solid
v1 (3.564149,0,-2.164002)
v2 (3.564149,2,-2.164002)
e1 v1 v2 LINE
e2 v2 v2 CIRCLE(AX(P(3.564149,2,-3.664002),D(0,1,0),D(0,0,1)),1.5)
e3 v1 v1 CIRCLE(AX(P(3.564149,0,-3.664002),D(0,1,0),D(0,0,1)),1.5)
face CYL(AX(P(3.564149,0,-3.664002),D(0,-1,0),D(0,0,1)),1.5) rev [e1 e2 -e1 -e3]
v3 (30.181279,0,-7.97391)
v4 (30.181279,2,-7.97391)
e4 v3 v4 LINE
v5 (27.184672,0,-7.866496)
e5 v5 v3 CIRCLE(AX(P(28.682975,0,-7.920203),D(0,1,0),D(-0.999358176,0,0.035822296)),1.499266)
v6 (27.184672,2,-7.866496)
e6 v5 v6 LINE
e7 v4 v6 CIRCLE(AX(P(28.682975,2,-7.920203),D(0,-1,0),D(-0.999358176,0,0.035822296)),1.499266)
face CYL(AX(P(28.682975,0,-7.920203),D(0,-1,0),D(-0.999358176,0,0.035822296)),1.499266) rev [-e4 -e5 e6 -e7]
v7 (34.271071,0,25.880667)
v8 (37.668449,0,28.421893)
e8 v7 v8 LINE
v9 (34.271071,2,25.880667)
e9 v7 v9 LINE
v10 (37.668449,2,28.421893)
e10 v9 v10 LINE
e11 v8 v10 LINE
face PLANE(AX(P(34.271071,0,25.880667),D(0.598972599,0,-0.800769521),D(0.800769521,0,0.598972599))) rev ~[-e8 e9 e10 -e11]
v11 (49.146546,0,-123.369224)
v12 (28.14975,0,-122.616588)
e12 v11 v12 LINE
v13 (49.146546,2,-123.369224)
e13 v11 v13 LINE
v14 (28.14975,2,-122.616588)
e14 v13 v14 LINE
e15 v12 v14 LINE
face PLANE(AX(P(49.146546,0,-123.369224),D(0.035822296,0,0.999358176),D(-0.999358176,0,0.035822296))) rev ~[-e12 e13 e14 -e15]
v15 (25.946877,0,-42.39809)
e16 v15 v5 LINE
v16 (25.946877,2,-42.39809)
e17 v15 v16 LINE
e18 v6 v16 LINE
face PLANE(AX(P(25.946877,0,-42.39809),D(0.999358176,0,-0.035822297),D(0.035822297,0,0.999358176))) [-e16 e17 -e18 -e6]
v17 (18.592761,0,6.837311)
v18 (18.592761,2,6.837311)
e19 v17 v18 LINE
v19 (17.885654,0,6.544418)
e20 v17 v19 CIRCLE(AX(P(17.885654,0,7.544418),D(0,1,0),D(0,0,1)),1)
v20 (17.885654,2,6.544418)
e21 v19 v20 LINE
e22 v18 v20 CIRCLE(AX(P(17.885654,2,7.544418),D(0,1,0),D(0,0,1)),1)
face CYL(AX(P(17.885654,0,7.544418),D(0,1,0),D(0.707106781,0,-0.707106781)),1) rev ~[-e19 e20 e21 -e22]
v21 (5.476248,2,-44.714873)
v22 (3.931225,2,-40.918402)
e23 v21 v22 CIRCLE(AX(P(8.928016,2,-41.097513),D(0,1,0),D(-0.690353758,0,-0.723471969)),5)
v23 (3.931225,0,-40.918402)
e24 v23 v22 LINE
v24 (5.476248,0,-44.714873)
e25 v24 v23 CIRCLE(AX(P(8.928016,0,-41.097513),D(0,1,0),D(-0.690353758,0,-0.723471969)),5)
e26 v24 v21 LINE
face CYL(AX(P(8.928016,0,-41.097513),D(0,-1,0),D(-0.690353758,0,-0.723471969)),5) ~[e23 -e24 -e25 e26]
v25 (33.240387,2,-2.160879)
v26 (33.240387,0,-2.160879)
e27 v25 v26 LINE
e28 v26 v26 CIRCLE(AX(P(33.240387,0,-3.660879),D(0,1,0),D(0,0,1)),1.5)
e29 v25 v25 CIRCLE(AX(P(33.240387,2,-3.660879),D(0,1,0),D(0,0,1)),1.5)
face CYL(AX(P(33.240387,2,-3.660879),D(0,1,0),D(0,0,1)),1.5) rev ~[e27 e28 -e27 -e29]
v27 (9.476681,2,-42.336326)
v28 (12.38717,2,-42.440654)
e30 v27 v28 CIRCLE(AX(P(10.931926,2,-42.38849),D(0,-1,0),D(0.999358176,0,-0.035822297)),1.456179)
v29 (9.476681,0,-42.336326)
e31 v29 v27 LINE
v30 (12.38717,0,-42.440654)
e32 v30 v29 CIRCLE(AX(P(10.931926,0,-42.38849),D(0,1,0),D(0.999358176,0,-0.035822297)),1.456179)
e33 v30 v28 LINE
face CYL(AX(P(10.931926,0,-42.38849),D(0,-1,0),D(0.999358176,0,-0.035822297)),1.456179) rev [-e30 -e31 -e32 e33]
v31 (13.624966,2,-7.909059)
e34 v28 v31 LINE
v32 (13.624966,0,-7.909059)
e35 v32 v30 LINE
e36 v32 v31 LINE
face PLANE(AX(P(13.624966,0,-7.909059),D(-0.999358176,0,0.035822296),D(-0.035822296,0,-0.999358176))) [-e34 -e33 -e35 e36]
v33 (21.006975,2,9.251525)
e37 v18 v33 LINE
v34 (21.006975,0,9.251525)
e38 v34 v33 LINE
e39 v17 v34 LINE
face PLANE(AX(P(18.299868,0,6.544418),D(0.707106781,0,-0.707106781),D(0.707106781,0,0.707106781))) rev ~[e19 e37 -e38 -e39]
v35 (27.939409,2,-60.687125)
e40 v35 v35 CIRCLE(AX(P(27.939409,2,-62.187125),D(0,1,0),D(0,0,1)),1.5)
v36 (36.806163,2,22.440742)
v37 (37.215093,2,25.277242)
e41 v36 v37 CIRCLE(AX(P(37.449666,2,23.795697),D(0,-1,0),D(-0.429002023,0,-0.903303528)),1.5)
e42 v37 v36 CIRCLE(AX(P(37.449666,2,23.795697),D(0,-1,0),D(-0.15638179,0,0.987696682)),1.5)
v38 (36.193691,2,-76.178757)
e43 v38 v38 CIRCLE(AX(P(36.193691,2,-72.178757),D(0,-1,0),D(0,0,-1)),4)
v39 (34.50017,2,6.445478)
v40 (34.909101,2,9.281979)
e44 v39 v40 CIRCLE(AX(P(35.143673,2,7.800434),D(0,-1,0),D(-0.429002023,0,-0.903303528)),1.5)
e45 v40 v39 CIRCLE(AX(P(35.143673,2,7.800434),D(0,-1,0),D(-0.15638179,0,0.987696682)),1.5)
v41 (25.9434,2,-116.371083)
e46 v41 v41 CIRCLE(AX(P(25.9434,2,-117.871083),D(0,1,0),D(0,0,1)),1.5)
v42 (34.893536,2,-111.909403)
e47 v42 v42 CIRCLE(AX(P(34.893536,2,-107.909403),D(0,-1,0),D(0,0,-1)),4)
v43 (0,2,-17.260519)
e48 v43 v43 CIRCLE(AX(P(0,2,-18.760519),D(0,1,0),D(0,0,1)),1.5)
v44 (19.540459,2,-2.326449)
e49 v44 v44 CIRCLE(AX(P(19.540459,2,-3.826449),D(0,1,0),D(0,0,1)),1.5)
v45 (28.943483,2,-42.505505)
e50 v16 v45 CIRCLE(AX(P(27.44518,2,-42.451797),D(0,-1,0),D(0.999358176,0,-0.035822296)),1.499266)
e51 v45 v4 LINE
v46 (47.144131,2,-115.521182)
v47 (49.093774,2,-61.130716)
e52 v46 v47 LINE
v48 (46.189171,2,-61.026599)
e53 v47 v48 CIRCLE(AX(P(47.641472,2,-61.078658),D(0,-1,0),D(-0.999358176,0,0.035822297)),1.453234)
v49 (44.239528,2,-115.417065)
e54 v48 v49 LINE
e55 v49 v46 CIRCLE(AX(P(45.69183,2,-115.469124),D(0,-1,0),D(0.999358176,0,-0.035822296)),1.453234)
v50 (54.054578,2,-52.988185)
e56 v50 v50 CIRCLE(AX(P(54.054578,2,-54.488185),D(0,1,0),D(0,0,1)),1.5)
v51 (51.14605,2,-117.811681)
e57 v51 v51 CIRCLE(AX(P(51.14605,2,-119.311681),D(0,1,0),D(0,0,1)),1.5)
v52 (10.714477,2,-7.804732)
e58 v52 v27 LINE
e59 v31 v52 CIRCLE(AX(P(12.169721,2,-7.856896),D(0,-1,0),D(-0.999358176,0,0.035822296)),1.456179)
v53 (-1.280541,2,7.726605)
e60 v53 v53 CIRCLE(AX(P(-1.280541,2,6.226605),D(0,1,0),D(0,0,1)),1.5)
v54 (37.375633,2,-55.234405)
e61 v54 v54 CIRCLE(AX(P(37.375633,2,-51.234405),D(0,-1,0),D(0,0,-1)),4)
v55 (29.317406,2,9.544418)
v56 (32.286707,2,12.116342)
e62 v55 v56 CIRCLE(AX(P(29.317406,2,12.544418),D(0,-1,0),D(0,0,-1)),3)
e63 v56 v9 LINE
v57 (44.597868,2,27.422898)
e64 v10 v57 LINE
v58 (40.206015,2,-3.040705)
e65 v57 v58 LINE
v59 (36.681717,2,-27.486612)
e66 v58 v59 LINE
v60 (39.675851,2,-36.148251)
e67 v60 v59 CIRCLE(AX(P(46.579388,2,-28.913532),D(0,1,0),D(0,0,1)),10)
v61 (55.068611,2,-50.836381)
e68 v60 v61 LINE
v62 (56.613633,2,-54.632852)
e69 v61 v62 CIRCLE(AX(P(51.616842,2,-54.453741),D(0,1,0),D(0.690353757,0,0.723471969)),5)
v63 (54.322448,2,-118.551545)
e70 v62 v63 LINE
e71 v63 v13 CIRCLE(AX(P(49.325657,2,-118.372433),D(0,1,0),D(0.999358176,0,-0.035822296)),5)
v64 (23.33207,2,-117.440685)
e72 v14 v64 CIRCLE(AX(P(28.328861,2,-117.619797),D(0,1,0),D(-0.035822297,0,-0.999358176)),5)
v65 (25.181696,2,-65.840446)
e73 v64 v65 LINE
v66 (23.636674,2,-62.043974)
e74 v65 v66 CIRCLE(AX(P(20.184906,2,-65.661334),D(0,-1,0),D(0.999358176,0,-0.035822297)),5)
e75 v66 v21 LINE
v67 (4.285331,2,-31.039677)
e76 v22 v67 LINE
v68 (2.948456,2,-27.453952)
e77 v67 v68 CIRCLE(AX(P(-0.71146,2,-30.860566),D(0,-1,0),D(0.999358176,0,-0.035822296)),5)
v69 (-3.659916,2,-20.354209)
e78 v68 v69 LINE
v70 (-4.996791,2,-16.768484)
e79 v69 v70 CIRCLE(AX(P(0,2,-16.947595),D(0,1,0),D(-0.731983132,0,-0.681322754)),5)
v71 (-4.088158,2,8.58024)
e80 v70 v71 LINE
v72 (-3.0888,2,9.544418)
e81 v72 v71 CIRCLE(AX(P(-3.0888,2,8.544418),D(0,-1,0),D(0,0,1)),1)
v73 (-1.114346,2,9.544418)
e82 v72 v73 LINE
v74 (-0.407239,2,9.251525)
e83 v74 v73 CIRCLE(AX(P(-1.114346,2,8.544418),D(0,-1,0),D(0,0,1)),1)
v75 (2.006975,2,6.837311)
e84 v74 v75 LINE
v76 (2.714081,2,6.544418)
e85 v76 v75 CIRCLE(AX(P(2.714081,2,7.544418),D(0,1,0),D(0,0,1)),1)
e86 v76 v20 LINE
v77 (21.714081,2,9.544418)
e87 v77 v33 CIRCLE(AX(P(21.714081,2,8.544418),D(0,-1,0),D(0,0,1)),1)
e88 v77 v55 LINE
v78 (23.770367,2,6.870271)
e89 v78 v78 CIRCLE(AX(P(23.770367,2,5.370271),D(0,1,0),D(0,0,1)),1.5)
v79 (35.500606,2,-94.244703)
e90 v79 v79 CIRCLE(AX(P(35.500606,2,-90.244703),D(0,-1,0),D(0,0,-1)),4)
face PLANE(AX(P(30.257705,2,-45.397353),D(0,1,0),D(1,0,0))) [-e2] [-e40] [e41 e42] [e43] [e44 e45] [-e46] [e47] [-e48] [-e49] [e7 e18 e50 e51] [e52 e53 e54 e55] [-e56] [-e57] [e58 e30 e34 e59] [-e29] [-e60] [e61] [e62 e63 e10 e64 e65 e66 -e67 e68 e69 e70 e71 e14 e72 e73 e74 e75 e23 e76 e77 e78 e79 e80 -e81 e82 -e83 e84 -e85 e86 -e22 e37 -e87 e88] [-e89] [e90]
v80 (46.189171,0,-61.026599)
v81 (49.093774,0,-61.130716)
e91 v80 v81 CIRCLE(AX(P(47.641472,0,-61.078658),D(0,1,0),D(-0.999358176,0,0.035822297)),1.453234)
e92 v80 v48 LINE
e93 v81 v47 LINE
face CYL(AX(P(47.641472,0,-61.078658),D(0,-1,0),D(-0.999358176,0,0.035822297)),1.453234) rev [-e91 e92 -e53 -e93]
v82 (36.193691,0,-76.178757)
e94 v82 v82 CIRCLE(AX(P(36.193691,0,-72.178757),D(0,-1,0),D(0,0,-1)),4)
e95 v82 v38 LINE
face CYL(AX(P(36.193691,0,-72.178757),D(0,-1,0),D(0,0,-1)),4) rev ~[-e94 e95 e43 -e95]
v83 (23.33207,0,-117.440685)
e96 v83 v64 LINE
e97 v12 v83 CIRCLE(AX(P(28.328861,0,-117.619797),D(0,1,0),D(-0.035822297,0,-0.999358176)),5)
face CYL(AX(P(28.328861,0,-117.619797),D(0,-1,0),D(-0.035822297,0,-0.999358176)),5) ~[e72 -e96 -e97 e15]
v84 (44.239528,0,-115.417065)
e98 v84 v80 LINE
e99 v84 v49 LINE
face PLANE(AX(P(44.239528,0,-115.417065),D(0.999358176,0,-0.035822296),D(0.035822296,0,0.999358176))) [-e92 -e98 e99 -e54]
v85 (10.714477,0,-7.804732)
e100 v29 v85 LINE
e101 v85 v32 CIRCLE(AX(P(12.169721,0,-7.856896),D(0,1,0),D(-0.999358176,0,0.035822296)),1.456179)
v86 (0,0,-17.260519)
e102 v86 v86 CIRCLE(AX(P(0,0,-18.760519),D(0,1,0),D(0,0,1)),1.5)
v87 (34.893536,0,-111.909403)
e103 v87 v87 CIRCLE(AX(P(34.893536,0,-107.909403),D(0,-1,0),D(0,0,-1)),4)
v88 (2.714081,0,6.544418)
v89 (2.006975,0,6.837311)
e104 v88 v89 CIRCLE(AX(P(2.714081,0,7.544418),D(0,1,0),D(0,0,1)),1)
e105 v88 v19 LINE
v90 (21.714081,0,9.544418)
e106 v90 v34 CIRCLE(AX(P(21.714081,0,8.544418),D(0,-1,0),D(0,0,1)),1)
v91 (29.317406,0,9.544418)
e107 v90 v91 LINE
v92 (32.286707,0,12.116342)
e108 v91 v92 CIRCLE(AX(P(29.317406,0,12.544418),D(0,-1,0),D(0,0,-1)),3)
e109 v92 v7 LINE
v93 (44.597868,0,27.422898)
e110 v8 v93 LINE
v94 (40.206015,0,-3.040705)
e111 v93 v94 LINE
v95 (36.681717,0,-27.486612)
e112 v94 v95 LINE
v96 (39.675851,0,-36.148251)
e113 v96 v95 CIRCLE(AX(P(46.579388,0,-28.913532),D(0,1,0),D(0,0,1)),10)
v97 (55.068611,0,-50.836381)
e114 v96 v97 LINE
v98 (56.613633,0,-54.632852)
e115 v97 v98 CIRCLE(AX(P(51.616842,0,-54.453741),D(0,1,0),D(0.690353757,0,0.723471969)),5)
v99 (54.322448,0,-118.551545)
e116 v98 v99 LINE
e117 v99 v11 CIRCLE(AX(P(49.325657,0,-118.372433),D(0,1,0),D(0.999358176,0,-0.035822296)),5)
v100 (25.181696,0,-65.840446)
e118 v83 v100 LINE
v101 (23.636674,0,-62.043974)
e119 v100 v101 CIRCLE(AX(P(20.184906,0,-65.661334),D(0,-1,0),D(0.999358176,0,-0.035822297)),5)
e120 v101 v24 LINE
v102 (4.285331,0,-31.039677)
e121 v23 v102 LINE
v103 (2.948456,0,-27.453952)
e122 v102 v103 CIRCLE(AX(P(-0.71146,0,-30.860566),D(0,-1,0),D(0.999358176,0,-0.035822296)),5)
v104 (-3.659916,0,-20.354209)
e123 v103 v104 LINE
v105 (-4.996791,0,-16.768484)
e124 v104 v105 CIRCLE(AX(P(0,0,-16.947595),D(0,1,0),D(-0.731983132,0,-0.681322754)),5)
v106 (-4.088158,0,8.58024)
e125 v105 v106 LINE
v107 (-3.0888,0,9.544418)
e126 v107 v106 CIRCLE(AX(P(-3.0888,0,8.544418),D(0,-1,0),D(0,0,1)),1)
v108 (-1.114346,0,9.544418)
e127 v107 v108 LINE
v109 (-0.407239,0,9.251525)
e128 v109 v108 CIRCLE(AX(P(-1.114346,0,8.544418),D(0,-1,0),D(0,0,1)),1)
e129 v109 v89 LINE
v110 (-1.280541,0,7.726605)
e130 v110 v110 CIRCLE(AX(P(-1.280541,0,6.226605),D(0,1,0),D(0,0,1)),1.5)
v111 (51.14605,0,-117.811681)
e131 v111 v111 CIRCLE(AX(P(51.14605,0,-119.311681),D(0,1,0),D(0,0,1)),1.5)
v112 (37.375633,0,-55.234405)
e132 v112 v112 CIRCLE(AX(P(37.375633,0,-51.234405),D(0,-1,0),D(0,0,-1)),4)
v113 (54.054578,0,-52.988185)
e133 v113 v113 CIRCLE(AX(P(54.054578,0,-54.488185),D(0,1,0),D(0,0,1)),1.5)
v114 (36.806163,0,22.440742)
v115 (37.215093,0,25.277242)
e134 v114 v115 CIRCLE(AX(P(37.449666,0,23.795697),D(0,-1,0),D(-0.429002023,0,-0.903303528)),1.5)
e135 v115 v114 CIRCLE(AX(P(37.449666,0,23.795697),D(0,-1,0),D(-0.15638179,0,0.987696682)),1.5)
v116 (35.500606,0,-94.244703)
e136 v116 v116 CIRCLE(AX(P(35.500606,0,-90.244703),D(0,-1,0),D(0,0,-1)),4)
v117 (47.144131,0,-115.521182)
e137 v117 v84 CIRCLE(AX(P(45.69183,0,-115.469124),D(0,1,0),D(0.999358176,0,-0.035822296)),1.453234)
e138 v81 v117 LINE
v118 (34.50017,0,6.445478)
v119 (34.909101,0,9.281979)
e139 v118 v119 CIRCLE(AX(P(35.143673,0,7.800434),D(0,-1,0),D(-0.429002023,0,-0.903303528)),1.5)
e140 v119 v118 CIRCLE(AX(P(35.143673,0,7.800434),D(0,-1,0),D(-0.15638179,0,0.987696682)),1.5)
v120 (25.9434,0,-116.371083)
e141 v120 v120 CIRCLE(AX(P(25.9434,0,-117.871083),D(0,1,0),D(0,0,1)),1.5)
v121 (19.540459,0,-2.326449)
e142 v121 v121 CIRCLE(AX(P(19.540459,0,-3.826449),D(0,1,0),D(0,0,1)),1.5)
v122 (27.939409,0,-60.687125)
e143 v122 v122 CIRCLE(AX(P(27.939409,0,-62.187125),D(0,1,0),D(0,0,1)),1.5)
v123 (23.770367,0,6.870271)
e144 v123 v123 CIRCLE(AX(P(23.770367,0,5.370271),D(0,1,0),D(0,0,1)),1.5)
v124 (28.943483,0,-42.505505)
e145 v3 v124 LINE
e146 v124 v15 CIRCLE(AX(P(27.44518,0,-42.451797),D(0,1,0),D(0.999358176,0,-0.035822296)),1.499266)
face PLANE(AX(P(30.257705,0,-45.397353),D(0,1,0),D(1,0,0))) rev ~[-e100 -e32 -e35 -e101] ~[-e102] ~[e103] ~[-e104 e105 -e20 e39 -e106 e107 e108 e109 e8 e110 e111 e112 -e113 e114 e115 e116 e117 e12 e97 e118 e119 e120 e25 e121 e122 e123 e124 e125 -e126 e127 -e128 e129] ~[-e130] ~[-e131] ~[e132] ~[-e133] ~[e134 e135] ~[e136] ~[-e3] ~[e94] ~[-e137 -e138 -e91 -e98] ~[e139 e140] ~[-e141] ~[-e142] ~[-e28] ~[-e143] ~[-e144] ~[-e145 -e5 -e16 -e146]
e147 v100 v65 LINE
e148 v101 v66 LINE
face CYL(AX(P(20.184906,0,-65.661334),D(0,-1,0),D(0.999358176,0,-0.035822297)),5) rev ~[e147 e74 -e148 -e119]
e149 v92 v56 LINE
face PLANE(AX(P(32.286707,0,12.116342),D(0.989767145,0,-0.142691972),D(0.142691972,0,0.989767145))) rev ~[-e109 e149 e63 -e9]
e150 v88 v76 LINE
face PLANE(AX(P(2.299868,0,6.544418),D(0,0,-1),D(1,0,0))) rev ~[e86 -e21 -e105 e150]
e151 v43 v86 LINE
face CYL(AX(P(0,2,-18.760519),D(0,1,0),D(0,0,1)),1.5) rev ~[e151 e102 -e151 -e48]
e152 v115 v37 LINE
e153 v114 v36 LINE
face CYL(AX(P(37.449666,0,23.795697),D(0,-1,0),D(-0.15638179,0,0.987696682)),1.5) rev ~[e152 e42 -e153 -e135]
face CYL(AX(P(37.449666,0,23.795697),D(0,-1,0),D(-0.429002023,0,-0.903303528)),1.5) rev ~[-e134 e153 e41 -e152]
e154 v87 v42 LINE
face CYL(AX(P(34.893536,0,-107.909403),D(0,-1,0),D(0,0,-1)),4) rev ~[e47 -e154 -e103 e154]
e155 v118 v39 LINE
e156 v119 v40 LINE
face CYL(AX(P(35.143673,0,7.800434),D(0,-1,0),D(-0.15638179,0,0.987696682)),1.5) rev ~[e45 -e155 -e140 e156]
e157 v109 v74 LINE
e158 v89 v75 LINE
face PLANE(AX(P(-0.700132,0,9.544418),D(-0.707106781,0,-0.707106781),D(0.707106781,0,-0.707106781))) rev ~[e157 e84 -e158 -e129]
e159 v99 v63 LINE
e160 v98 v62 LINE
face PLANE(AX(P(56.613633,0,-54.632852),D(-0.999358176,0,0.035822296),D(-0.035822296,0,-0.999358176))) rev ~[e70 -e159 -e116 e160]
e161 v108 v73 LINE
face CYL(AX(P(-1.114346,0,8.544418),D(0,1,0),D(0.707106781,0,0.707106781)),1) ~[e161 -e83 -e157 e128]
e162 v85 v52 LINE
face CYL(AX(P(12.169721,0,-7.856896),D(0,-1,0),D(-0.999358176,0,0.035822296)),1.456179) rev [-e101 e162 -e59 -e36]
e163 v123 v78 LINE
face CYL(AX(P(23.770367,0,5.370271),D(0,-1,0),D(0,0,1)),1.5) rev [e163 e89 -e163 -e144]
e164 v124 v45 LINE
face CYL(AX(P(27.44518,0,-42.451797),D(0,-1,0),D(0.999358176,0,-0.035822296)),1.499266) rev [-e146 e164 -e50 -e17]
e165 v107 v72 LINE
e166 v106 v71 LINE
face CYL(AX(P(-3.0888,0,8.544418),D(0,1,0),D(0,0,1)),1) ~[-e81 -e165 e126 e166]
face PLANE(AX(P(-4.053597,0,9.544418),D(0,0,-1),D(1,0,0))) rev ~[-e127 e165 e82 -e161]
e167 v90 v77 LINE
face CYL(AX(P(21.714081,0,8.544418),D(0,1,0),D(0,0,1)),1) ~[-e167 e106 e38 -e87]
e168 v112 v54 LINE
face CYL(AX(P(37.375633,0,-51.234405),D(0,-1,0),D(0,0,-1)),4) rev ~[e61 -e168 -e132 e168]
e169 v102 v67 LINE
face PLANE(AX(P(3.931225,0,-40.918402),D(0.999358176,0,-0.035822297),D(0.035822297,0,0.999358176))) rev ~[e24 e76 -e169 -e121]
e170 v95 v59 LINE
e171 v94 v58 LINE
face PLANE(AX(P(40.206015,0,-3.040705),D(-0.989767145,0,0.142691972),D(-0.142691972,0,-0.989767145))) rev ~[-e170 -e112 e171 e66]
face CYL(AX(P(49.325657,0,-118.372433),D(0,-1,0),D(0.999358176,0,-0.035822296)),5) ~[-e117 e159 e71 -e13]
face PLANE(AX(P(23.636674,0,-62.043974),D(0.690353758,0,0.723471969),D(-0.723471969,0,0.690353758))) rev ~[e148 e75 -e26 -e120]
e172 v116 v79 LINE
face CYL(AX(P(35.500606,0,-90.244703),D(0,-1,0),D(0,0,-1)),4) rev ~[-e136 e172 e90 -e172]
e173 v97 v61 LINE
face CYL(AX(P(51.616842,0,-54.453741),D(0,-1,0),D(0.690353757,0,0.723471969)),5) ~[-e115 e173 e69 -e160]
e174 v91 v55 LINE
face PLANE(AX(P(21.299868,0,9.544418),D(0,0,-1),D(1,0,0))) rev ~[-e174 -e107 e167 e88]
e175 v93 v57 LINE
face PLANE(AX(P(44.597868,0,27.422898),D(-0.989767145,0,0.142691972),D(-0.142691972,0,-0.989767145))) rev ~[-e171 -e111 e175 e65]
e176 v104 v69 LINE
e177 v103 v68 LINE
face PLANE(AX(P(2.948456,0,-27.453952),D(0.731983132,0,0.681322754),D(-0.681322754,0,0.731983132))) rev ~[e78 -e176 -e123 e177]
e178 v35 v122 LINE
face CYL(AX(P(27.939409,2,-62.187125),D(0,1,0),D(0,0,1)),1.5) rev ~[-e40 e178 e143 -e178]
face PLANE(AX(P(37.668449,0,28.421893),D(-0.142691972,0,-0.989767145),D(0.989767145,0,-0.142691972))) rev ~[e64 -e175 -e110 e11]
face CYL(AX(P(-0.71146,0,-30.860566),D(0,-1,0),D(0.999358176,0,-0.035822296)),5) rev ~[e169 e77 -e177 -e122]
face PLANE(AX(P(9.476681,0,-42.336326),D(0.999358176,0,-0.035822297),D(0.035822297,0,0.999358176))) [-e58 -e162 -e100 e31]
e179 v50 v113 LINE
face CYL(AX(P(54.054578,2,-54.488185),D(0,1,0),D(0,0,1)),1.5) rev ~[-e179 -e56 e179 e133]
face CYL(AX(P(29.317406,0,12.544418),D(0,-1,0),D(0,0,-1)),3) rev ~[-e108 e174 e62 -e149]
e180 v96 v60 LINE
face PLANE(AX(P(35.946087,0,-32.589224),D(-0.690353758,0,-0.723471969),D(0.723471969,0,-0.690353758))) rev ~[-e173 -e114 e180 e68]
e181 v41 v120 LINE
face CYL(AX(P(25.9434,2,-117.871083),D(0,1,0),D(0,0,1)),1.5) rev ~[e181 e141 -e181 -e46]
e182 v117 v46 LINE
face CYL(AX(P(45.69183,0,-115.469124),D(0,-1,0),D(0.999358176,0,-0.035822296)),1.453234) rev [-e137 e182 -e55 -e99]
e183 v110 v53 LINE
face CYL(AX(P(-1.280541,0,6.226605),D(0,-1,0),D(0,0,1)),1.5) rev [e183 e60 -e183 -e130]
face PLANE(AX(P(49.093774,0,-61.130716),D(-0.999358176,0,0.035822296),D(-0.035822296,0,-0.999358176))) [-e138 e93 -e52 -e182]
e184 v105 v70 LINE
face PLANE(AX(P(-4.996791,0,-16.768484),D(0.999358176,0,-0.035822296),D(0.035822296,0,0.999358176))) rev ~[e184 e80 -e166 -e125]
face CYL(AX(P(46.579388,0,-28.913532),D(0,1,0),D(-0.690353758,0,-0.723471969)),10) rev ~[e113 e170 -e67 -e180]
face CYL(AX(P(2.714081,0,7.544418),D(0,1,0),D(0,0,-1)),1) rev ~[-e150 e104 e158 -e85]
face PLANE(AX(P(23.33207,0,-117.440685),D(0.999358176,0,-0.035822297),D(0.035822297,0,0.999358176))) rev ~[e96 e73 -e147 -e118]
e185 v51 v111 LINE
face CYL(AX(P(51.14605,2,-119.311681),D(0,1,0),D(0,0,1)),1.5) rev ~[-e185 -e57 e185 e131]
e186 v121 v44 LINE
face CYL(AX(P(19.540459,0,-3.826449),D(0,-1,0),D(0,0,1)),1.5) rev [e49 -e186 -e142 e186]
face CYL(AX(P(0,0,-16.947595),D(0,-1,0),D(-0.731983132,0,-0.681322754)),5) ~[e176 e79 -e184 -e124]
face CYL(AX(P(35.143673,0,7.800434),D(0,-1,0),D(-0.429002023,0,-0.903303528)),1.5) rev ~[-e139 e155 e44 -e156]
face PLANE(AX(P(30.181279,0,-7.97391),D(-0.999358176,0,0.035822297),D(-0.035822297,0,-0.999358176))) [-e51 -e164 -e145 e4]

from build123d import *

# Parameters (mm, degrees)
SKETCH1_R           = 1.5
BOSS_EXTRUDE1_DEPTH = 2
SKETCH2_R           = 4
CUT_EXTRUDE1_DEPTH  = 136.757961465
SKETCH3_R           = 1.5
CUT_EXTRUDE2_DEPTH  = 10
FILLET1_R           = 10
CUT_EXTRUDE3_DEPTH  = 23
FILLET2_R           = 1


with BuildPart() as part:
    # Sketch1 → Boss-Extrude1 (new body)
    with BuildSketch(Plane(origin=(0, 0, 0), x_dir=(1, 0, 0), z_dir=(0, 1, 0))):
        with BuildLine():
            Line((35.946087305, 32.589224444), (55.068611132, 50.836380863))
            ThreePointArc((55.068611132, 50.836380863), (56.248023483, 52.569022886), (56.613633222, 54.632852189))
            Line((56.613633222, 54.632852189), (54.322448331, 118.551544644))
            ThreePointArc((54.322448331, 118.551544644), (52.732271224, 122.032348819), (49.146545971, 123.369224039))
            Line((49.146545971, 123.369224039), (28.149749669, 122.616587516))
            ThreePointArc((28.149749669, 122.616587516), (24.668945494, 121.026410408), (23.332070273, 117.440685156))
            Line((23.332070273, 117.440685156), (25.181696492, 65.840445524))
            ThreePointArc((25.181696492, 65.840445524), (24.816086753, 63.776616221), (23.636674402, 62.043974198))
            Line((23.636674402, 62.043974198), (5.476247543, 44.714873053))
            ThreePointArc((5.476247543, 44.714873053), (4.296835192, 42.98223103), (3.931225452, 40.918401728))
            Line((3.931225452, 40.918401728), (4.285331317, 31.039677436))
            ThreePointArc((4.285331317, 31.039677436), (3.973516256, 29.113854302), (2.948456097, 27.453952183))
            Line((2.948456097, 27.453952183), (-3.659915658, 20.354208893))
            ThreePointArc((-3.659915658, 20.354208893), (-4.684975817, 18.694306775), (-4.996790878, 16.768483641))
            Line((-4.996790878, 16.768483641), (-4.053596951, -9.544417952))
            Line((-4.053596951, -9.544417952), (-0.700132194, -9.544417952))
            Line((-0.700132194, -9.544417952), (2.299867806, -6.544417952))
            Line((2.299867806, -6.544417952), (18.299867806, -6.544417952))
            Line((18.299867806, -6.544417952), (21.299867806, -9.544417952))
            Line((21.299867806, -9.544417952), (26.299867806, -9.544417952))
            Line((26.299867806, -9.544417952), (28.299867806, -9.544417952))
            Line((28.299867806, -9.544417952), (29.317405641, -9.544417952))
            ThreePointArc((29.317405641, -9.544417952), (31.281555871, -10.276794995), (32.286707076, -12.116342036))
            Line((32.286707076, -12.116342036), (34.27107148, -25.880667111))
            Line((34.27107148, -25.880667111), (37.668448831, -28.421892629))
            Line((37.668448831, -28.421892629), (44.597867771, -27.422897603))
            Line((44.597867771, -27.422897603), (40.206014976, 3.040705467))
            Line((40.206014976, 3.040705467), (35.946087305, 32.589224444))
        make_face()
        with Locations(Location((23.770367042, -5.370271096, 0), (0, 0, 270))):
            Circle(SKETCH1_R, mode=Mode.SUBTRACT)
        with Locations(Location((19.540458754, 3.826449386, 0), (0, 0, 270))):
            Circle(SKETCH1_R, mode=Mode.SUBTRACT)
        with Locations(Location((-1.280541484, -6.226605145, 0), (0, 0, 270))):
            Circle(SKETCH1_R, mode=Mode.SUBTRACT)
        with Locations(Location((3.564149135, 3.664002019, 0), (0, 0, 270))):
            Circle(SKETCH1_R, mode=Mode.SUBTRACT)
    extrude(amount=BOSS_EXTRUDE1_DEPTH)

    # Sketch2 → Cut-Extrude1 (cut, through all)
    with BuildSketch(Plane.XZ):
        with Locations(Location((34.893536441, -107.909402778, 0), (0, 0, 270))):
            Circle(SKETCH2_R)
        with Locations(Location((35.500605714, -90.244703074, 0), (0, 0, 270))):
            Circle(SKETCH2_R)
        with Locations(Location((37.375632996, -51.234404776, 0), (0, 0, 270))):
            Circle(SKETCH2_R)
        with Locations(Location((36.193690526, -72.178757044, 0), (0, 0, 270))):
            Circle(SKETCH2_R)
        with BuildLine():
            Line((9.476681481, -42.336326168), (10.714476932, -7.804732036))
            ThreePointArc((10.714476932, -7.804732036), (12.221884959, -6.401651358), (13.624965636, -7.909059385))
            Line((13.624965636, -7.909059385), (12.387170186, -42.440653517))
            ThreePointArc((12.387170186, -42.440653517), (10.879762159, -43.843734194), (9.476681481, -42.336326168))
        make_face()
        with BuildLine():
            Line((25.946876638, -42.39809035), (27.184672089, -7.866496218))
            ThreePointArc((27.184672089, -7.866496218), (28.736682558, -6.421900022), (30.181278754, -7.973910491))
            Line((30.181278754, -7.973910491), (28.943483303, -42.505504623))
            ThreePointArc((28.943483303, -42.505504623), (27.391472834, -43.950100819), (25.946876638, -42.39809035))
        make_face()
        with BuildLine():
            Line((44.239527936, -115.417065328), (46.189170661, -61.026599384))
            ThreePointArc((46.189170661, -61.026599384), (47.693530634, -59.626355806), (49.093774212, -61.130715778))
            Line((49.093774212, -61.130715778), (47.144131486, -115.521181722))
            ThreePointArc((47.144131486, -115.521181722), (45.639771514, -116.9214253), (44.239527936, -115.417065328))
        make_face()
    extrude(amount=-CUT_EXTRUDE1_DEPTH, mode=Mode.SUBTRACT)

    # Sketch3 → Cut-Extrude2 (cut)
    with BuildSketch(Plane(origin=(0, 2, 0), x_dir=(1, 0, 0), z_dir=(0, 1, 0))):
        with Locations(Location((0, 18.76051869, 0), (0, 0, 270))):
            Circle(SKETCH3_R)
        with Locations(Location((54.054577559, 54.488184987, 0), (0, 0, 270))):
            Circle(SKETCH3_R)
        with Locations(Location((25.943400363, 117.871083174, 0), (0, 0, 270))):
            Circle(SKETCH3_R)
        with Locations(Location((51.146049593, 119.311681239, 0), (0, 0, 270))):
            Circle(SKETCH3_R)
        with Locations(Location((27.939408723, 62.187124606, 0), (0, 0, 270))):
            Circle(SKETCH3_R)
        with Locations(Location((33.240387063, 3.660878573, 0), (0, 0, 270))):
            Circle(SKETCH3_R)
    extrude(amount=-CUT_EXTRUDE2_DEPTH, mode=Mode.SUBTRACT)

    # Fillet1
    fillet1_edges = [part.edges().sort_by_distance(p)[0] for p in [
        (35.946087305, 1, -32.589224444),
    ]]
    fillet(fillet1_edges, radius=FILLET1_R)

    # Sketch4 → Cut-Extrude3 (cut)
    with BuildSketch(Plane.XZ):
        with BuildLine():
            ThreePointArc((36.806162994, 22.440741914), (38.934316746, 23.581659248), (37.215093343, 25.27724223))
            ThreePointArc((37.215093343, 25.27724223), (35.965015311, 24.009735165), (36.806162994, 22.440741914))
        make_face()
        with BuildLine():
            ThreePointArc((34.909100758, 9.281978715), (33.659022726, 8.014471651), (34.500170409, 6.4454784))
            ThreePointArc((34.500170409, 6.4454784), (36.628324161, 7.586395734), (34.909100758, 9.281978715))
        make_face()
    extrude(amount=-CUT_EXTRUDE3_DEPTH, mode=Mode.SUBTRACT)

    # Fillet2
    fillet2_edges = [part.edges().sort_by_distance(p)[0] for p in [
        (21.299867806, 1, 9.544417952),
        (18.299867806, 1, 6.544417952),
        (2.299867806, 1, 6.544417952),
        (-0.700132194, 1, 9.544417952),
        (-4.053596951, 1, 9.544417952),
    ]]
    fillet(fillet2_edges, radius=FILLET2_R)


solid = part.part
